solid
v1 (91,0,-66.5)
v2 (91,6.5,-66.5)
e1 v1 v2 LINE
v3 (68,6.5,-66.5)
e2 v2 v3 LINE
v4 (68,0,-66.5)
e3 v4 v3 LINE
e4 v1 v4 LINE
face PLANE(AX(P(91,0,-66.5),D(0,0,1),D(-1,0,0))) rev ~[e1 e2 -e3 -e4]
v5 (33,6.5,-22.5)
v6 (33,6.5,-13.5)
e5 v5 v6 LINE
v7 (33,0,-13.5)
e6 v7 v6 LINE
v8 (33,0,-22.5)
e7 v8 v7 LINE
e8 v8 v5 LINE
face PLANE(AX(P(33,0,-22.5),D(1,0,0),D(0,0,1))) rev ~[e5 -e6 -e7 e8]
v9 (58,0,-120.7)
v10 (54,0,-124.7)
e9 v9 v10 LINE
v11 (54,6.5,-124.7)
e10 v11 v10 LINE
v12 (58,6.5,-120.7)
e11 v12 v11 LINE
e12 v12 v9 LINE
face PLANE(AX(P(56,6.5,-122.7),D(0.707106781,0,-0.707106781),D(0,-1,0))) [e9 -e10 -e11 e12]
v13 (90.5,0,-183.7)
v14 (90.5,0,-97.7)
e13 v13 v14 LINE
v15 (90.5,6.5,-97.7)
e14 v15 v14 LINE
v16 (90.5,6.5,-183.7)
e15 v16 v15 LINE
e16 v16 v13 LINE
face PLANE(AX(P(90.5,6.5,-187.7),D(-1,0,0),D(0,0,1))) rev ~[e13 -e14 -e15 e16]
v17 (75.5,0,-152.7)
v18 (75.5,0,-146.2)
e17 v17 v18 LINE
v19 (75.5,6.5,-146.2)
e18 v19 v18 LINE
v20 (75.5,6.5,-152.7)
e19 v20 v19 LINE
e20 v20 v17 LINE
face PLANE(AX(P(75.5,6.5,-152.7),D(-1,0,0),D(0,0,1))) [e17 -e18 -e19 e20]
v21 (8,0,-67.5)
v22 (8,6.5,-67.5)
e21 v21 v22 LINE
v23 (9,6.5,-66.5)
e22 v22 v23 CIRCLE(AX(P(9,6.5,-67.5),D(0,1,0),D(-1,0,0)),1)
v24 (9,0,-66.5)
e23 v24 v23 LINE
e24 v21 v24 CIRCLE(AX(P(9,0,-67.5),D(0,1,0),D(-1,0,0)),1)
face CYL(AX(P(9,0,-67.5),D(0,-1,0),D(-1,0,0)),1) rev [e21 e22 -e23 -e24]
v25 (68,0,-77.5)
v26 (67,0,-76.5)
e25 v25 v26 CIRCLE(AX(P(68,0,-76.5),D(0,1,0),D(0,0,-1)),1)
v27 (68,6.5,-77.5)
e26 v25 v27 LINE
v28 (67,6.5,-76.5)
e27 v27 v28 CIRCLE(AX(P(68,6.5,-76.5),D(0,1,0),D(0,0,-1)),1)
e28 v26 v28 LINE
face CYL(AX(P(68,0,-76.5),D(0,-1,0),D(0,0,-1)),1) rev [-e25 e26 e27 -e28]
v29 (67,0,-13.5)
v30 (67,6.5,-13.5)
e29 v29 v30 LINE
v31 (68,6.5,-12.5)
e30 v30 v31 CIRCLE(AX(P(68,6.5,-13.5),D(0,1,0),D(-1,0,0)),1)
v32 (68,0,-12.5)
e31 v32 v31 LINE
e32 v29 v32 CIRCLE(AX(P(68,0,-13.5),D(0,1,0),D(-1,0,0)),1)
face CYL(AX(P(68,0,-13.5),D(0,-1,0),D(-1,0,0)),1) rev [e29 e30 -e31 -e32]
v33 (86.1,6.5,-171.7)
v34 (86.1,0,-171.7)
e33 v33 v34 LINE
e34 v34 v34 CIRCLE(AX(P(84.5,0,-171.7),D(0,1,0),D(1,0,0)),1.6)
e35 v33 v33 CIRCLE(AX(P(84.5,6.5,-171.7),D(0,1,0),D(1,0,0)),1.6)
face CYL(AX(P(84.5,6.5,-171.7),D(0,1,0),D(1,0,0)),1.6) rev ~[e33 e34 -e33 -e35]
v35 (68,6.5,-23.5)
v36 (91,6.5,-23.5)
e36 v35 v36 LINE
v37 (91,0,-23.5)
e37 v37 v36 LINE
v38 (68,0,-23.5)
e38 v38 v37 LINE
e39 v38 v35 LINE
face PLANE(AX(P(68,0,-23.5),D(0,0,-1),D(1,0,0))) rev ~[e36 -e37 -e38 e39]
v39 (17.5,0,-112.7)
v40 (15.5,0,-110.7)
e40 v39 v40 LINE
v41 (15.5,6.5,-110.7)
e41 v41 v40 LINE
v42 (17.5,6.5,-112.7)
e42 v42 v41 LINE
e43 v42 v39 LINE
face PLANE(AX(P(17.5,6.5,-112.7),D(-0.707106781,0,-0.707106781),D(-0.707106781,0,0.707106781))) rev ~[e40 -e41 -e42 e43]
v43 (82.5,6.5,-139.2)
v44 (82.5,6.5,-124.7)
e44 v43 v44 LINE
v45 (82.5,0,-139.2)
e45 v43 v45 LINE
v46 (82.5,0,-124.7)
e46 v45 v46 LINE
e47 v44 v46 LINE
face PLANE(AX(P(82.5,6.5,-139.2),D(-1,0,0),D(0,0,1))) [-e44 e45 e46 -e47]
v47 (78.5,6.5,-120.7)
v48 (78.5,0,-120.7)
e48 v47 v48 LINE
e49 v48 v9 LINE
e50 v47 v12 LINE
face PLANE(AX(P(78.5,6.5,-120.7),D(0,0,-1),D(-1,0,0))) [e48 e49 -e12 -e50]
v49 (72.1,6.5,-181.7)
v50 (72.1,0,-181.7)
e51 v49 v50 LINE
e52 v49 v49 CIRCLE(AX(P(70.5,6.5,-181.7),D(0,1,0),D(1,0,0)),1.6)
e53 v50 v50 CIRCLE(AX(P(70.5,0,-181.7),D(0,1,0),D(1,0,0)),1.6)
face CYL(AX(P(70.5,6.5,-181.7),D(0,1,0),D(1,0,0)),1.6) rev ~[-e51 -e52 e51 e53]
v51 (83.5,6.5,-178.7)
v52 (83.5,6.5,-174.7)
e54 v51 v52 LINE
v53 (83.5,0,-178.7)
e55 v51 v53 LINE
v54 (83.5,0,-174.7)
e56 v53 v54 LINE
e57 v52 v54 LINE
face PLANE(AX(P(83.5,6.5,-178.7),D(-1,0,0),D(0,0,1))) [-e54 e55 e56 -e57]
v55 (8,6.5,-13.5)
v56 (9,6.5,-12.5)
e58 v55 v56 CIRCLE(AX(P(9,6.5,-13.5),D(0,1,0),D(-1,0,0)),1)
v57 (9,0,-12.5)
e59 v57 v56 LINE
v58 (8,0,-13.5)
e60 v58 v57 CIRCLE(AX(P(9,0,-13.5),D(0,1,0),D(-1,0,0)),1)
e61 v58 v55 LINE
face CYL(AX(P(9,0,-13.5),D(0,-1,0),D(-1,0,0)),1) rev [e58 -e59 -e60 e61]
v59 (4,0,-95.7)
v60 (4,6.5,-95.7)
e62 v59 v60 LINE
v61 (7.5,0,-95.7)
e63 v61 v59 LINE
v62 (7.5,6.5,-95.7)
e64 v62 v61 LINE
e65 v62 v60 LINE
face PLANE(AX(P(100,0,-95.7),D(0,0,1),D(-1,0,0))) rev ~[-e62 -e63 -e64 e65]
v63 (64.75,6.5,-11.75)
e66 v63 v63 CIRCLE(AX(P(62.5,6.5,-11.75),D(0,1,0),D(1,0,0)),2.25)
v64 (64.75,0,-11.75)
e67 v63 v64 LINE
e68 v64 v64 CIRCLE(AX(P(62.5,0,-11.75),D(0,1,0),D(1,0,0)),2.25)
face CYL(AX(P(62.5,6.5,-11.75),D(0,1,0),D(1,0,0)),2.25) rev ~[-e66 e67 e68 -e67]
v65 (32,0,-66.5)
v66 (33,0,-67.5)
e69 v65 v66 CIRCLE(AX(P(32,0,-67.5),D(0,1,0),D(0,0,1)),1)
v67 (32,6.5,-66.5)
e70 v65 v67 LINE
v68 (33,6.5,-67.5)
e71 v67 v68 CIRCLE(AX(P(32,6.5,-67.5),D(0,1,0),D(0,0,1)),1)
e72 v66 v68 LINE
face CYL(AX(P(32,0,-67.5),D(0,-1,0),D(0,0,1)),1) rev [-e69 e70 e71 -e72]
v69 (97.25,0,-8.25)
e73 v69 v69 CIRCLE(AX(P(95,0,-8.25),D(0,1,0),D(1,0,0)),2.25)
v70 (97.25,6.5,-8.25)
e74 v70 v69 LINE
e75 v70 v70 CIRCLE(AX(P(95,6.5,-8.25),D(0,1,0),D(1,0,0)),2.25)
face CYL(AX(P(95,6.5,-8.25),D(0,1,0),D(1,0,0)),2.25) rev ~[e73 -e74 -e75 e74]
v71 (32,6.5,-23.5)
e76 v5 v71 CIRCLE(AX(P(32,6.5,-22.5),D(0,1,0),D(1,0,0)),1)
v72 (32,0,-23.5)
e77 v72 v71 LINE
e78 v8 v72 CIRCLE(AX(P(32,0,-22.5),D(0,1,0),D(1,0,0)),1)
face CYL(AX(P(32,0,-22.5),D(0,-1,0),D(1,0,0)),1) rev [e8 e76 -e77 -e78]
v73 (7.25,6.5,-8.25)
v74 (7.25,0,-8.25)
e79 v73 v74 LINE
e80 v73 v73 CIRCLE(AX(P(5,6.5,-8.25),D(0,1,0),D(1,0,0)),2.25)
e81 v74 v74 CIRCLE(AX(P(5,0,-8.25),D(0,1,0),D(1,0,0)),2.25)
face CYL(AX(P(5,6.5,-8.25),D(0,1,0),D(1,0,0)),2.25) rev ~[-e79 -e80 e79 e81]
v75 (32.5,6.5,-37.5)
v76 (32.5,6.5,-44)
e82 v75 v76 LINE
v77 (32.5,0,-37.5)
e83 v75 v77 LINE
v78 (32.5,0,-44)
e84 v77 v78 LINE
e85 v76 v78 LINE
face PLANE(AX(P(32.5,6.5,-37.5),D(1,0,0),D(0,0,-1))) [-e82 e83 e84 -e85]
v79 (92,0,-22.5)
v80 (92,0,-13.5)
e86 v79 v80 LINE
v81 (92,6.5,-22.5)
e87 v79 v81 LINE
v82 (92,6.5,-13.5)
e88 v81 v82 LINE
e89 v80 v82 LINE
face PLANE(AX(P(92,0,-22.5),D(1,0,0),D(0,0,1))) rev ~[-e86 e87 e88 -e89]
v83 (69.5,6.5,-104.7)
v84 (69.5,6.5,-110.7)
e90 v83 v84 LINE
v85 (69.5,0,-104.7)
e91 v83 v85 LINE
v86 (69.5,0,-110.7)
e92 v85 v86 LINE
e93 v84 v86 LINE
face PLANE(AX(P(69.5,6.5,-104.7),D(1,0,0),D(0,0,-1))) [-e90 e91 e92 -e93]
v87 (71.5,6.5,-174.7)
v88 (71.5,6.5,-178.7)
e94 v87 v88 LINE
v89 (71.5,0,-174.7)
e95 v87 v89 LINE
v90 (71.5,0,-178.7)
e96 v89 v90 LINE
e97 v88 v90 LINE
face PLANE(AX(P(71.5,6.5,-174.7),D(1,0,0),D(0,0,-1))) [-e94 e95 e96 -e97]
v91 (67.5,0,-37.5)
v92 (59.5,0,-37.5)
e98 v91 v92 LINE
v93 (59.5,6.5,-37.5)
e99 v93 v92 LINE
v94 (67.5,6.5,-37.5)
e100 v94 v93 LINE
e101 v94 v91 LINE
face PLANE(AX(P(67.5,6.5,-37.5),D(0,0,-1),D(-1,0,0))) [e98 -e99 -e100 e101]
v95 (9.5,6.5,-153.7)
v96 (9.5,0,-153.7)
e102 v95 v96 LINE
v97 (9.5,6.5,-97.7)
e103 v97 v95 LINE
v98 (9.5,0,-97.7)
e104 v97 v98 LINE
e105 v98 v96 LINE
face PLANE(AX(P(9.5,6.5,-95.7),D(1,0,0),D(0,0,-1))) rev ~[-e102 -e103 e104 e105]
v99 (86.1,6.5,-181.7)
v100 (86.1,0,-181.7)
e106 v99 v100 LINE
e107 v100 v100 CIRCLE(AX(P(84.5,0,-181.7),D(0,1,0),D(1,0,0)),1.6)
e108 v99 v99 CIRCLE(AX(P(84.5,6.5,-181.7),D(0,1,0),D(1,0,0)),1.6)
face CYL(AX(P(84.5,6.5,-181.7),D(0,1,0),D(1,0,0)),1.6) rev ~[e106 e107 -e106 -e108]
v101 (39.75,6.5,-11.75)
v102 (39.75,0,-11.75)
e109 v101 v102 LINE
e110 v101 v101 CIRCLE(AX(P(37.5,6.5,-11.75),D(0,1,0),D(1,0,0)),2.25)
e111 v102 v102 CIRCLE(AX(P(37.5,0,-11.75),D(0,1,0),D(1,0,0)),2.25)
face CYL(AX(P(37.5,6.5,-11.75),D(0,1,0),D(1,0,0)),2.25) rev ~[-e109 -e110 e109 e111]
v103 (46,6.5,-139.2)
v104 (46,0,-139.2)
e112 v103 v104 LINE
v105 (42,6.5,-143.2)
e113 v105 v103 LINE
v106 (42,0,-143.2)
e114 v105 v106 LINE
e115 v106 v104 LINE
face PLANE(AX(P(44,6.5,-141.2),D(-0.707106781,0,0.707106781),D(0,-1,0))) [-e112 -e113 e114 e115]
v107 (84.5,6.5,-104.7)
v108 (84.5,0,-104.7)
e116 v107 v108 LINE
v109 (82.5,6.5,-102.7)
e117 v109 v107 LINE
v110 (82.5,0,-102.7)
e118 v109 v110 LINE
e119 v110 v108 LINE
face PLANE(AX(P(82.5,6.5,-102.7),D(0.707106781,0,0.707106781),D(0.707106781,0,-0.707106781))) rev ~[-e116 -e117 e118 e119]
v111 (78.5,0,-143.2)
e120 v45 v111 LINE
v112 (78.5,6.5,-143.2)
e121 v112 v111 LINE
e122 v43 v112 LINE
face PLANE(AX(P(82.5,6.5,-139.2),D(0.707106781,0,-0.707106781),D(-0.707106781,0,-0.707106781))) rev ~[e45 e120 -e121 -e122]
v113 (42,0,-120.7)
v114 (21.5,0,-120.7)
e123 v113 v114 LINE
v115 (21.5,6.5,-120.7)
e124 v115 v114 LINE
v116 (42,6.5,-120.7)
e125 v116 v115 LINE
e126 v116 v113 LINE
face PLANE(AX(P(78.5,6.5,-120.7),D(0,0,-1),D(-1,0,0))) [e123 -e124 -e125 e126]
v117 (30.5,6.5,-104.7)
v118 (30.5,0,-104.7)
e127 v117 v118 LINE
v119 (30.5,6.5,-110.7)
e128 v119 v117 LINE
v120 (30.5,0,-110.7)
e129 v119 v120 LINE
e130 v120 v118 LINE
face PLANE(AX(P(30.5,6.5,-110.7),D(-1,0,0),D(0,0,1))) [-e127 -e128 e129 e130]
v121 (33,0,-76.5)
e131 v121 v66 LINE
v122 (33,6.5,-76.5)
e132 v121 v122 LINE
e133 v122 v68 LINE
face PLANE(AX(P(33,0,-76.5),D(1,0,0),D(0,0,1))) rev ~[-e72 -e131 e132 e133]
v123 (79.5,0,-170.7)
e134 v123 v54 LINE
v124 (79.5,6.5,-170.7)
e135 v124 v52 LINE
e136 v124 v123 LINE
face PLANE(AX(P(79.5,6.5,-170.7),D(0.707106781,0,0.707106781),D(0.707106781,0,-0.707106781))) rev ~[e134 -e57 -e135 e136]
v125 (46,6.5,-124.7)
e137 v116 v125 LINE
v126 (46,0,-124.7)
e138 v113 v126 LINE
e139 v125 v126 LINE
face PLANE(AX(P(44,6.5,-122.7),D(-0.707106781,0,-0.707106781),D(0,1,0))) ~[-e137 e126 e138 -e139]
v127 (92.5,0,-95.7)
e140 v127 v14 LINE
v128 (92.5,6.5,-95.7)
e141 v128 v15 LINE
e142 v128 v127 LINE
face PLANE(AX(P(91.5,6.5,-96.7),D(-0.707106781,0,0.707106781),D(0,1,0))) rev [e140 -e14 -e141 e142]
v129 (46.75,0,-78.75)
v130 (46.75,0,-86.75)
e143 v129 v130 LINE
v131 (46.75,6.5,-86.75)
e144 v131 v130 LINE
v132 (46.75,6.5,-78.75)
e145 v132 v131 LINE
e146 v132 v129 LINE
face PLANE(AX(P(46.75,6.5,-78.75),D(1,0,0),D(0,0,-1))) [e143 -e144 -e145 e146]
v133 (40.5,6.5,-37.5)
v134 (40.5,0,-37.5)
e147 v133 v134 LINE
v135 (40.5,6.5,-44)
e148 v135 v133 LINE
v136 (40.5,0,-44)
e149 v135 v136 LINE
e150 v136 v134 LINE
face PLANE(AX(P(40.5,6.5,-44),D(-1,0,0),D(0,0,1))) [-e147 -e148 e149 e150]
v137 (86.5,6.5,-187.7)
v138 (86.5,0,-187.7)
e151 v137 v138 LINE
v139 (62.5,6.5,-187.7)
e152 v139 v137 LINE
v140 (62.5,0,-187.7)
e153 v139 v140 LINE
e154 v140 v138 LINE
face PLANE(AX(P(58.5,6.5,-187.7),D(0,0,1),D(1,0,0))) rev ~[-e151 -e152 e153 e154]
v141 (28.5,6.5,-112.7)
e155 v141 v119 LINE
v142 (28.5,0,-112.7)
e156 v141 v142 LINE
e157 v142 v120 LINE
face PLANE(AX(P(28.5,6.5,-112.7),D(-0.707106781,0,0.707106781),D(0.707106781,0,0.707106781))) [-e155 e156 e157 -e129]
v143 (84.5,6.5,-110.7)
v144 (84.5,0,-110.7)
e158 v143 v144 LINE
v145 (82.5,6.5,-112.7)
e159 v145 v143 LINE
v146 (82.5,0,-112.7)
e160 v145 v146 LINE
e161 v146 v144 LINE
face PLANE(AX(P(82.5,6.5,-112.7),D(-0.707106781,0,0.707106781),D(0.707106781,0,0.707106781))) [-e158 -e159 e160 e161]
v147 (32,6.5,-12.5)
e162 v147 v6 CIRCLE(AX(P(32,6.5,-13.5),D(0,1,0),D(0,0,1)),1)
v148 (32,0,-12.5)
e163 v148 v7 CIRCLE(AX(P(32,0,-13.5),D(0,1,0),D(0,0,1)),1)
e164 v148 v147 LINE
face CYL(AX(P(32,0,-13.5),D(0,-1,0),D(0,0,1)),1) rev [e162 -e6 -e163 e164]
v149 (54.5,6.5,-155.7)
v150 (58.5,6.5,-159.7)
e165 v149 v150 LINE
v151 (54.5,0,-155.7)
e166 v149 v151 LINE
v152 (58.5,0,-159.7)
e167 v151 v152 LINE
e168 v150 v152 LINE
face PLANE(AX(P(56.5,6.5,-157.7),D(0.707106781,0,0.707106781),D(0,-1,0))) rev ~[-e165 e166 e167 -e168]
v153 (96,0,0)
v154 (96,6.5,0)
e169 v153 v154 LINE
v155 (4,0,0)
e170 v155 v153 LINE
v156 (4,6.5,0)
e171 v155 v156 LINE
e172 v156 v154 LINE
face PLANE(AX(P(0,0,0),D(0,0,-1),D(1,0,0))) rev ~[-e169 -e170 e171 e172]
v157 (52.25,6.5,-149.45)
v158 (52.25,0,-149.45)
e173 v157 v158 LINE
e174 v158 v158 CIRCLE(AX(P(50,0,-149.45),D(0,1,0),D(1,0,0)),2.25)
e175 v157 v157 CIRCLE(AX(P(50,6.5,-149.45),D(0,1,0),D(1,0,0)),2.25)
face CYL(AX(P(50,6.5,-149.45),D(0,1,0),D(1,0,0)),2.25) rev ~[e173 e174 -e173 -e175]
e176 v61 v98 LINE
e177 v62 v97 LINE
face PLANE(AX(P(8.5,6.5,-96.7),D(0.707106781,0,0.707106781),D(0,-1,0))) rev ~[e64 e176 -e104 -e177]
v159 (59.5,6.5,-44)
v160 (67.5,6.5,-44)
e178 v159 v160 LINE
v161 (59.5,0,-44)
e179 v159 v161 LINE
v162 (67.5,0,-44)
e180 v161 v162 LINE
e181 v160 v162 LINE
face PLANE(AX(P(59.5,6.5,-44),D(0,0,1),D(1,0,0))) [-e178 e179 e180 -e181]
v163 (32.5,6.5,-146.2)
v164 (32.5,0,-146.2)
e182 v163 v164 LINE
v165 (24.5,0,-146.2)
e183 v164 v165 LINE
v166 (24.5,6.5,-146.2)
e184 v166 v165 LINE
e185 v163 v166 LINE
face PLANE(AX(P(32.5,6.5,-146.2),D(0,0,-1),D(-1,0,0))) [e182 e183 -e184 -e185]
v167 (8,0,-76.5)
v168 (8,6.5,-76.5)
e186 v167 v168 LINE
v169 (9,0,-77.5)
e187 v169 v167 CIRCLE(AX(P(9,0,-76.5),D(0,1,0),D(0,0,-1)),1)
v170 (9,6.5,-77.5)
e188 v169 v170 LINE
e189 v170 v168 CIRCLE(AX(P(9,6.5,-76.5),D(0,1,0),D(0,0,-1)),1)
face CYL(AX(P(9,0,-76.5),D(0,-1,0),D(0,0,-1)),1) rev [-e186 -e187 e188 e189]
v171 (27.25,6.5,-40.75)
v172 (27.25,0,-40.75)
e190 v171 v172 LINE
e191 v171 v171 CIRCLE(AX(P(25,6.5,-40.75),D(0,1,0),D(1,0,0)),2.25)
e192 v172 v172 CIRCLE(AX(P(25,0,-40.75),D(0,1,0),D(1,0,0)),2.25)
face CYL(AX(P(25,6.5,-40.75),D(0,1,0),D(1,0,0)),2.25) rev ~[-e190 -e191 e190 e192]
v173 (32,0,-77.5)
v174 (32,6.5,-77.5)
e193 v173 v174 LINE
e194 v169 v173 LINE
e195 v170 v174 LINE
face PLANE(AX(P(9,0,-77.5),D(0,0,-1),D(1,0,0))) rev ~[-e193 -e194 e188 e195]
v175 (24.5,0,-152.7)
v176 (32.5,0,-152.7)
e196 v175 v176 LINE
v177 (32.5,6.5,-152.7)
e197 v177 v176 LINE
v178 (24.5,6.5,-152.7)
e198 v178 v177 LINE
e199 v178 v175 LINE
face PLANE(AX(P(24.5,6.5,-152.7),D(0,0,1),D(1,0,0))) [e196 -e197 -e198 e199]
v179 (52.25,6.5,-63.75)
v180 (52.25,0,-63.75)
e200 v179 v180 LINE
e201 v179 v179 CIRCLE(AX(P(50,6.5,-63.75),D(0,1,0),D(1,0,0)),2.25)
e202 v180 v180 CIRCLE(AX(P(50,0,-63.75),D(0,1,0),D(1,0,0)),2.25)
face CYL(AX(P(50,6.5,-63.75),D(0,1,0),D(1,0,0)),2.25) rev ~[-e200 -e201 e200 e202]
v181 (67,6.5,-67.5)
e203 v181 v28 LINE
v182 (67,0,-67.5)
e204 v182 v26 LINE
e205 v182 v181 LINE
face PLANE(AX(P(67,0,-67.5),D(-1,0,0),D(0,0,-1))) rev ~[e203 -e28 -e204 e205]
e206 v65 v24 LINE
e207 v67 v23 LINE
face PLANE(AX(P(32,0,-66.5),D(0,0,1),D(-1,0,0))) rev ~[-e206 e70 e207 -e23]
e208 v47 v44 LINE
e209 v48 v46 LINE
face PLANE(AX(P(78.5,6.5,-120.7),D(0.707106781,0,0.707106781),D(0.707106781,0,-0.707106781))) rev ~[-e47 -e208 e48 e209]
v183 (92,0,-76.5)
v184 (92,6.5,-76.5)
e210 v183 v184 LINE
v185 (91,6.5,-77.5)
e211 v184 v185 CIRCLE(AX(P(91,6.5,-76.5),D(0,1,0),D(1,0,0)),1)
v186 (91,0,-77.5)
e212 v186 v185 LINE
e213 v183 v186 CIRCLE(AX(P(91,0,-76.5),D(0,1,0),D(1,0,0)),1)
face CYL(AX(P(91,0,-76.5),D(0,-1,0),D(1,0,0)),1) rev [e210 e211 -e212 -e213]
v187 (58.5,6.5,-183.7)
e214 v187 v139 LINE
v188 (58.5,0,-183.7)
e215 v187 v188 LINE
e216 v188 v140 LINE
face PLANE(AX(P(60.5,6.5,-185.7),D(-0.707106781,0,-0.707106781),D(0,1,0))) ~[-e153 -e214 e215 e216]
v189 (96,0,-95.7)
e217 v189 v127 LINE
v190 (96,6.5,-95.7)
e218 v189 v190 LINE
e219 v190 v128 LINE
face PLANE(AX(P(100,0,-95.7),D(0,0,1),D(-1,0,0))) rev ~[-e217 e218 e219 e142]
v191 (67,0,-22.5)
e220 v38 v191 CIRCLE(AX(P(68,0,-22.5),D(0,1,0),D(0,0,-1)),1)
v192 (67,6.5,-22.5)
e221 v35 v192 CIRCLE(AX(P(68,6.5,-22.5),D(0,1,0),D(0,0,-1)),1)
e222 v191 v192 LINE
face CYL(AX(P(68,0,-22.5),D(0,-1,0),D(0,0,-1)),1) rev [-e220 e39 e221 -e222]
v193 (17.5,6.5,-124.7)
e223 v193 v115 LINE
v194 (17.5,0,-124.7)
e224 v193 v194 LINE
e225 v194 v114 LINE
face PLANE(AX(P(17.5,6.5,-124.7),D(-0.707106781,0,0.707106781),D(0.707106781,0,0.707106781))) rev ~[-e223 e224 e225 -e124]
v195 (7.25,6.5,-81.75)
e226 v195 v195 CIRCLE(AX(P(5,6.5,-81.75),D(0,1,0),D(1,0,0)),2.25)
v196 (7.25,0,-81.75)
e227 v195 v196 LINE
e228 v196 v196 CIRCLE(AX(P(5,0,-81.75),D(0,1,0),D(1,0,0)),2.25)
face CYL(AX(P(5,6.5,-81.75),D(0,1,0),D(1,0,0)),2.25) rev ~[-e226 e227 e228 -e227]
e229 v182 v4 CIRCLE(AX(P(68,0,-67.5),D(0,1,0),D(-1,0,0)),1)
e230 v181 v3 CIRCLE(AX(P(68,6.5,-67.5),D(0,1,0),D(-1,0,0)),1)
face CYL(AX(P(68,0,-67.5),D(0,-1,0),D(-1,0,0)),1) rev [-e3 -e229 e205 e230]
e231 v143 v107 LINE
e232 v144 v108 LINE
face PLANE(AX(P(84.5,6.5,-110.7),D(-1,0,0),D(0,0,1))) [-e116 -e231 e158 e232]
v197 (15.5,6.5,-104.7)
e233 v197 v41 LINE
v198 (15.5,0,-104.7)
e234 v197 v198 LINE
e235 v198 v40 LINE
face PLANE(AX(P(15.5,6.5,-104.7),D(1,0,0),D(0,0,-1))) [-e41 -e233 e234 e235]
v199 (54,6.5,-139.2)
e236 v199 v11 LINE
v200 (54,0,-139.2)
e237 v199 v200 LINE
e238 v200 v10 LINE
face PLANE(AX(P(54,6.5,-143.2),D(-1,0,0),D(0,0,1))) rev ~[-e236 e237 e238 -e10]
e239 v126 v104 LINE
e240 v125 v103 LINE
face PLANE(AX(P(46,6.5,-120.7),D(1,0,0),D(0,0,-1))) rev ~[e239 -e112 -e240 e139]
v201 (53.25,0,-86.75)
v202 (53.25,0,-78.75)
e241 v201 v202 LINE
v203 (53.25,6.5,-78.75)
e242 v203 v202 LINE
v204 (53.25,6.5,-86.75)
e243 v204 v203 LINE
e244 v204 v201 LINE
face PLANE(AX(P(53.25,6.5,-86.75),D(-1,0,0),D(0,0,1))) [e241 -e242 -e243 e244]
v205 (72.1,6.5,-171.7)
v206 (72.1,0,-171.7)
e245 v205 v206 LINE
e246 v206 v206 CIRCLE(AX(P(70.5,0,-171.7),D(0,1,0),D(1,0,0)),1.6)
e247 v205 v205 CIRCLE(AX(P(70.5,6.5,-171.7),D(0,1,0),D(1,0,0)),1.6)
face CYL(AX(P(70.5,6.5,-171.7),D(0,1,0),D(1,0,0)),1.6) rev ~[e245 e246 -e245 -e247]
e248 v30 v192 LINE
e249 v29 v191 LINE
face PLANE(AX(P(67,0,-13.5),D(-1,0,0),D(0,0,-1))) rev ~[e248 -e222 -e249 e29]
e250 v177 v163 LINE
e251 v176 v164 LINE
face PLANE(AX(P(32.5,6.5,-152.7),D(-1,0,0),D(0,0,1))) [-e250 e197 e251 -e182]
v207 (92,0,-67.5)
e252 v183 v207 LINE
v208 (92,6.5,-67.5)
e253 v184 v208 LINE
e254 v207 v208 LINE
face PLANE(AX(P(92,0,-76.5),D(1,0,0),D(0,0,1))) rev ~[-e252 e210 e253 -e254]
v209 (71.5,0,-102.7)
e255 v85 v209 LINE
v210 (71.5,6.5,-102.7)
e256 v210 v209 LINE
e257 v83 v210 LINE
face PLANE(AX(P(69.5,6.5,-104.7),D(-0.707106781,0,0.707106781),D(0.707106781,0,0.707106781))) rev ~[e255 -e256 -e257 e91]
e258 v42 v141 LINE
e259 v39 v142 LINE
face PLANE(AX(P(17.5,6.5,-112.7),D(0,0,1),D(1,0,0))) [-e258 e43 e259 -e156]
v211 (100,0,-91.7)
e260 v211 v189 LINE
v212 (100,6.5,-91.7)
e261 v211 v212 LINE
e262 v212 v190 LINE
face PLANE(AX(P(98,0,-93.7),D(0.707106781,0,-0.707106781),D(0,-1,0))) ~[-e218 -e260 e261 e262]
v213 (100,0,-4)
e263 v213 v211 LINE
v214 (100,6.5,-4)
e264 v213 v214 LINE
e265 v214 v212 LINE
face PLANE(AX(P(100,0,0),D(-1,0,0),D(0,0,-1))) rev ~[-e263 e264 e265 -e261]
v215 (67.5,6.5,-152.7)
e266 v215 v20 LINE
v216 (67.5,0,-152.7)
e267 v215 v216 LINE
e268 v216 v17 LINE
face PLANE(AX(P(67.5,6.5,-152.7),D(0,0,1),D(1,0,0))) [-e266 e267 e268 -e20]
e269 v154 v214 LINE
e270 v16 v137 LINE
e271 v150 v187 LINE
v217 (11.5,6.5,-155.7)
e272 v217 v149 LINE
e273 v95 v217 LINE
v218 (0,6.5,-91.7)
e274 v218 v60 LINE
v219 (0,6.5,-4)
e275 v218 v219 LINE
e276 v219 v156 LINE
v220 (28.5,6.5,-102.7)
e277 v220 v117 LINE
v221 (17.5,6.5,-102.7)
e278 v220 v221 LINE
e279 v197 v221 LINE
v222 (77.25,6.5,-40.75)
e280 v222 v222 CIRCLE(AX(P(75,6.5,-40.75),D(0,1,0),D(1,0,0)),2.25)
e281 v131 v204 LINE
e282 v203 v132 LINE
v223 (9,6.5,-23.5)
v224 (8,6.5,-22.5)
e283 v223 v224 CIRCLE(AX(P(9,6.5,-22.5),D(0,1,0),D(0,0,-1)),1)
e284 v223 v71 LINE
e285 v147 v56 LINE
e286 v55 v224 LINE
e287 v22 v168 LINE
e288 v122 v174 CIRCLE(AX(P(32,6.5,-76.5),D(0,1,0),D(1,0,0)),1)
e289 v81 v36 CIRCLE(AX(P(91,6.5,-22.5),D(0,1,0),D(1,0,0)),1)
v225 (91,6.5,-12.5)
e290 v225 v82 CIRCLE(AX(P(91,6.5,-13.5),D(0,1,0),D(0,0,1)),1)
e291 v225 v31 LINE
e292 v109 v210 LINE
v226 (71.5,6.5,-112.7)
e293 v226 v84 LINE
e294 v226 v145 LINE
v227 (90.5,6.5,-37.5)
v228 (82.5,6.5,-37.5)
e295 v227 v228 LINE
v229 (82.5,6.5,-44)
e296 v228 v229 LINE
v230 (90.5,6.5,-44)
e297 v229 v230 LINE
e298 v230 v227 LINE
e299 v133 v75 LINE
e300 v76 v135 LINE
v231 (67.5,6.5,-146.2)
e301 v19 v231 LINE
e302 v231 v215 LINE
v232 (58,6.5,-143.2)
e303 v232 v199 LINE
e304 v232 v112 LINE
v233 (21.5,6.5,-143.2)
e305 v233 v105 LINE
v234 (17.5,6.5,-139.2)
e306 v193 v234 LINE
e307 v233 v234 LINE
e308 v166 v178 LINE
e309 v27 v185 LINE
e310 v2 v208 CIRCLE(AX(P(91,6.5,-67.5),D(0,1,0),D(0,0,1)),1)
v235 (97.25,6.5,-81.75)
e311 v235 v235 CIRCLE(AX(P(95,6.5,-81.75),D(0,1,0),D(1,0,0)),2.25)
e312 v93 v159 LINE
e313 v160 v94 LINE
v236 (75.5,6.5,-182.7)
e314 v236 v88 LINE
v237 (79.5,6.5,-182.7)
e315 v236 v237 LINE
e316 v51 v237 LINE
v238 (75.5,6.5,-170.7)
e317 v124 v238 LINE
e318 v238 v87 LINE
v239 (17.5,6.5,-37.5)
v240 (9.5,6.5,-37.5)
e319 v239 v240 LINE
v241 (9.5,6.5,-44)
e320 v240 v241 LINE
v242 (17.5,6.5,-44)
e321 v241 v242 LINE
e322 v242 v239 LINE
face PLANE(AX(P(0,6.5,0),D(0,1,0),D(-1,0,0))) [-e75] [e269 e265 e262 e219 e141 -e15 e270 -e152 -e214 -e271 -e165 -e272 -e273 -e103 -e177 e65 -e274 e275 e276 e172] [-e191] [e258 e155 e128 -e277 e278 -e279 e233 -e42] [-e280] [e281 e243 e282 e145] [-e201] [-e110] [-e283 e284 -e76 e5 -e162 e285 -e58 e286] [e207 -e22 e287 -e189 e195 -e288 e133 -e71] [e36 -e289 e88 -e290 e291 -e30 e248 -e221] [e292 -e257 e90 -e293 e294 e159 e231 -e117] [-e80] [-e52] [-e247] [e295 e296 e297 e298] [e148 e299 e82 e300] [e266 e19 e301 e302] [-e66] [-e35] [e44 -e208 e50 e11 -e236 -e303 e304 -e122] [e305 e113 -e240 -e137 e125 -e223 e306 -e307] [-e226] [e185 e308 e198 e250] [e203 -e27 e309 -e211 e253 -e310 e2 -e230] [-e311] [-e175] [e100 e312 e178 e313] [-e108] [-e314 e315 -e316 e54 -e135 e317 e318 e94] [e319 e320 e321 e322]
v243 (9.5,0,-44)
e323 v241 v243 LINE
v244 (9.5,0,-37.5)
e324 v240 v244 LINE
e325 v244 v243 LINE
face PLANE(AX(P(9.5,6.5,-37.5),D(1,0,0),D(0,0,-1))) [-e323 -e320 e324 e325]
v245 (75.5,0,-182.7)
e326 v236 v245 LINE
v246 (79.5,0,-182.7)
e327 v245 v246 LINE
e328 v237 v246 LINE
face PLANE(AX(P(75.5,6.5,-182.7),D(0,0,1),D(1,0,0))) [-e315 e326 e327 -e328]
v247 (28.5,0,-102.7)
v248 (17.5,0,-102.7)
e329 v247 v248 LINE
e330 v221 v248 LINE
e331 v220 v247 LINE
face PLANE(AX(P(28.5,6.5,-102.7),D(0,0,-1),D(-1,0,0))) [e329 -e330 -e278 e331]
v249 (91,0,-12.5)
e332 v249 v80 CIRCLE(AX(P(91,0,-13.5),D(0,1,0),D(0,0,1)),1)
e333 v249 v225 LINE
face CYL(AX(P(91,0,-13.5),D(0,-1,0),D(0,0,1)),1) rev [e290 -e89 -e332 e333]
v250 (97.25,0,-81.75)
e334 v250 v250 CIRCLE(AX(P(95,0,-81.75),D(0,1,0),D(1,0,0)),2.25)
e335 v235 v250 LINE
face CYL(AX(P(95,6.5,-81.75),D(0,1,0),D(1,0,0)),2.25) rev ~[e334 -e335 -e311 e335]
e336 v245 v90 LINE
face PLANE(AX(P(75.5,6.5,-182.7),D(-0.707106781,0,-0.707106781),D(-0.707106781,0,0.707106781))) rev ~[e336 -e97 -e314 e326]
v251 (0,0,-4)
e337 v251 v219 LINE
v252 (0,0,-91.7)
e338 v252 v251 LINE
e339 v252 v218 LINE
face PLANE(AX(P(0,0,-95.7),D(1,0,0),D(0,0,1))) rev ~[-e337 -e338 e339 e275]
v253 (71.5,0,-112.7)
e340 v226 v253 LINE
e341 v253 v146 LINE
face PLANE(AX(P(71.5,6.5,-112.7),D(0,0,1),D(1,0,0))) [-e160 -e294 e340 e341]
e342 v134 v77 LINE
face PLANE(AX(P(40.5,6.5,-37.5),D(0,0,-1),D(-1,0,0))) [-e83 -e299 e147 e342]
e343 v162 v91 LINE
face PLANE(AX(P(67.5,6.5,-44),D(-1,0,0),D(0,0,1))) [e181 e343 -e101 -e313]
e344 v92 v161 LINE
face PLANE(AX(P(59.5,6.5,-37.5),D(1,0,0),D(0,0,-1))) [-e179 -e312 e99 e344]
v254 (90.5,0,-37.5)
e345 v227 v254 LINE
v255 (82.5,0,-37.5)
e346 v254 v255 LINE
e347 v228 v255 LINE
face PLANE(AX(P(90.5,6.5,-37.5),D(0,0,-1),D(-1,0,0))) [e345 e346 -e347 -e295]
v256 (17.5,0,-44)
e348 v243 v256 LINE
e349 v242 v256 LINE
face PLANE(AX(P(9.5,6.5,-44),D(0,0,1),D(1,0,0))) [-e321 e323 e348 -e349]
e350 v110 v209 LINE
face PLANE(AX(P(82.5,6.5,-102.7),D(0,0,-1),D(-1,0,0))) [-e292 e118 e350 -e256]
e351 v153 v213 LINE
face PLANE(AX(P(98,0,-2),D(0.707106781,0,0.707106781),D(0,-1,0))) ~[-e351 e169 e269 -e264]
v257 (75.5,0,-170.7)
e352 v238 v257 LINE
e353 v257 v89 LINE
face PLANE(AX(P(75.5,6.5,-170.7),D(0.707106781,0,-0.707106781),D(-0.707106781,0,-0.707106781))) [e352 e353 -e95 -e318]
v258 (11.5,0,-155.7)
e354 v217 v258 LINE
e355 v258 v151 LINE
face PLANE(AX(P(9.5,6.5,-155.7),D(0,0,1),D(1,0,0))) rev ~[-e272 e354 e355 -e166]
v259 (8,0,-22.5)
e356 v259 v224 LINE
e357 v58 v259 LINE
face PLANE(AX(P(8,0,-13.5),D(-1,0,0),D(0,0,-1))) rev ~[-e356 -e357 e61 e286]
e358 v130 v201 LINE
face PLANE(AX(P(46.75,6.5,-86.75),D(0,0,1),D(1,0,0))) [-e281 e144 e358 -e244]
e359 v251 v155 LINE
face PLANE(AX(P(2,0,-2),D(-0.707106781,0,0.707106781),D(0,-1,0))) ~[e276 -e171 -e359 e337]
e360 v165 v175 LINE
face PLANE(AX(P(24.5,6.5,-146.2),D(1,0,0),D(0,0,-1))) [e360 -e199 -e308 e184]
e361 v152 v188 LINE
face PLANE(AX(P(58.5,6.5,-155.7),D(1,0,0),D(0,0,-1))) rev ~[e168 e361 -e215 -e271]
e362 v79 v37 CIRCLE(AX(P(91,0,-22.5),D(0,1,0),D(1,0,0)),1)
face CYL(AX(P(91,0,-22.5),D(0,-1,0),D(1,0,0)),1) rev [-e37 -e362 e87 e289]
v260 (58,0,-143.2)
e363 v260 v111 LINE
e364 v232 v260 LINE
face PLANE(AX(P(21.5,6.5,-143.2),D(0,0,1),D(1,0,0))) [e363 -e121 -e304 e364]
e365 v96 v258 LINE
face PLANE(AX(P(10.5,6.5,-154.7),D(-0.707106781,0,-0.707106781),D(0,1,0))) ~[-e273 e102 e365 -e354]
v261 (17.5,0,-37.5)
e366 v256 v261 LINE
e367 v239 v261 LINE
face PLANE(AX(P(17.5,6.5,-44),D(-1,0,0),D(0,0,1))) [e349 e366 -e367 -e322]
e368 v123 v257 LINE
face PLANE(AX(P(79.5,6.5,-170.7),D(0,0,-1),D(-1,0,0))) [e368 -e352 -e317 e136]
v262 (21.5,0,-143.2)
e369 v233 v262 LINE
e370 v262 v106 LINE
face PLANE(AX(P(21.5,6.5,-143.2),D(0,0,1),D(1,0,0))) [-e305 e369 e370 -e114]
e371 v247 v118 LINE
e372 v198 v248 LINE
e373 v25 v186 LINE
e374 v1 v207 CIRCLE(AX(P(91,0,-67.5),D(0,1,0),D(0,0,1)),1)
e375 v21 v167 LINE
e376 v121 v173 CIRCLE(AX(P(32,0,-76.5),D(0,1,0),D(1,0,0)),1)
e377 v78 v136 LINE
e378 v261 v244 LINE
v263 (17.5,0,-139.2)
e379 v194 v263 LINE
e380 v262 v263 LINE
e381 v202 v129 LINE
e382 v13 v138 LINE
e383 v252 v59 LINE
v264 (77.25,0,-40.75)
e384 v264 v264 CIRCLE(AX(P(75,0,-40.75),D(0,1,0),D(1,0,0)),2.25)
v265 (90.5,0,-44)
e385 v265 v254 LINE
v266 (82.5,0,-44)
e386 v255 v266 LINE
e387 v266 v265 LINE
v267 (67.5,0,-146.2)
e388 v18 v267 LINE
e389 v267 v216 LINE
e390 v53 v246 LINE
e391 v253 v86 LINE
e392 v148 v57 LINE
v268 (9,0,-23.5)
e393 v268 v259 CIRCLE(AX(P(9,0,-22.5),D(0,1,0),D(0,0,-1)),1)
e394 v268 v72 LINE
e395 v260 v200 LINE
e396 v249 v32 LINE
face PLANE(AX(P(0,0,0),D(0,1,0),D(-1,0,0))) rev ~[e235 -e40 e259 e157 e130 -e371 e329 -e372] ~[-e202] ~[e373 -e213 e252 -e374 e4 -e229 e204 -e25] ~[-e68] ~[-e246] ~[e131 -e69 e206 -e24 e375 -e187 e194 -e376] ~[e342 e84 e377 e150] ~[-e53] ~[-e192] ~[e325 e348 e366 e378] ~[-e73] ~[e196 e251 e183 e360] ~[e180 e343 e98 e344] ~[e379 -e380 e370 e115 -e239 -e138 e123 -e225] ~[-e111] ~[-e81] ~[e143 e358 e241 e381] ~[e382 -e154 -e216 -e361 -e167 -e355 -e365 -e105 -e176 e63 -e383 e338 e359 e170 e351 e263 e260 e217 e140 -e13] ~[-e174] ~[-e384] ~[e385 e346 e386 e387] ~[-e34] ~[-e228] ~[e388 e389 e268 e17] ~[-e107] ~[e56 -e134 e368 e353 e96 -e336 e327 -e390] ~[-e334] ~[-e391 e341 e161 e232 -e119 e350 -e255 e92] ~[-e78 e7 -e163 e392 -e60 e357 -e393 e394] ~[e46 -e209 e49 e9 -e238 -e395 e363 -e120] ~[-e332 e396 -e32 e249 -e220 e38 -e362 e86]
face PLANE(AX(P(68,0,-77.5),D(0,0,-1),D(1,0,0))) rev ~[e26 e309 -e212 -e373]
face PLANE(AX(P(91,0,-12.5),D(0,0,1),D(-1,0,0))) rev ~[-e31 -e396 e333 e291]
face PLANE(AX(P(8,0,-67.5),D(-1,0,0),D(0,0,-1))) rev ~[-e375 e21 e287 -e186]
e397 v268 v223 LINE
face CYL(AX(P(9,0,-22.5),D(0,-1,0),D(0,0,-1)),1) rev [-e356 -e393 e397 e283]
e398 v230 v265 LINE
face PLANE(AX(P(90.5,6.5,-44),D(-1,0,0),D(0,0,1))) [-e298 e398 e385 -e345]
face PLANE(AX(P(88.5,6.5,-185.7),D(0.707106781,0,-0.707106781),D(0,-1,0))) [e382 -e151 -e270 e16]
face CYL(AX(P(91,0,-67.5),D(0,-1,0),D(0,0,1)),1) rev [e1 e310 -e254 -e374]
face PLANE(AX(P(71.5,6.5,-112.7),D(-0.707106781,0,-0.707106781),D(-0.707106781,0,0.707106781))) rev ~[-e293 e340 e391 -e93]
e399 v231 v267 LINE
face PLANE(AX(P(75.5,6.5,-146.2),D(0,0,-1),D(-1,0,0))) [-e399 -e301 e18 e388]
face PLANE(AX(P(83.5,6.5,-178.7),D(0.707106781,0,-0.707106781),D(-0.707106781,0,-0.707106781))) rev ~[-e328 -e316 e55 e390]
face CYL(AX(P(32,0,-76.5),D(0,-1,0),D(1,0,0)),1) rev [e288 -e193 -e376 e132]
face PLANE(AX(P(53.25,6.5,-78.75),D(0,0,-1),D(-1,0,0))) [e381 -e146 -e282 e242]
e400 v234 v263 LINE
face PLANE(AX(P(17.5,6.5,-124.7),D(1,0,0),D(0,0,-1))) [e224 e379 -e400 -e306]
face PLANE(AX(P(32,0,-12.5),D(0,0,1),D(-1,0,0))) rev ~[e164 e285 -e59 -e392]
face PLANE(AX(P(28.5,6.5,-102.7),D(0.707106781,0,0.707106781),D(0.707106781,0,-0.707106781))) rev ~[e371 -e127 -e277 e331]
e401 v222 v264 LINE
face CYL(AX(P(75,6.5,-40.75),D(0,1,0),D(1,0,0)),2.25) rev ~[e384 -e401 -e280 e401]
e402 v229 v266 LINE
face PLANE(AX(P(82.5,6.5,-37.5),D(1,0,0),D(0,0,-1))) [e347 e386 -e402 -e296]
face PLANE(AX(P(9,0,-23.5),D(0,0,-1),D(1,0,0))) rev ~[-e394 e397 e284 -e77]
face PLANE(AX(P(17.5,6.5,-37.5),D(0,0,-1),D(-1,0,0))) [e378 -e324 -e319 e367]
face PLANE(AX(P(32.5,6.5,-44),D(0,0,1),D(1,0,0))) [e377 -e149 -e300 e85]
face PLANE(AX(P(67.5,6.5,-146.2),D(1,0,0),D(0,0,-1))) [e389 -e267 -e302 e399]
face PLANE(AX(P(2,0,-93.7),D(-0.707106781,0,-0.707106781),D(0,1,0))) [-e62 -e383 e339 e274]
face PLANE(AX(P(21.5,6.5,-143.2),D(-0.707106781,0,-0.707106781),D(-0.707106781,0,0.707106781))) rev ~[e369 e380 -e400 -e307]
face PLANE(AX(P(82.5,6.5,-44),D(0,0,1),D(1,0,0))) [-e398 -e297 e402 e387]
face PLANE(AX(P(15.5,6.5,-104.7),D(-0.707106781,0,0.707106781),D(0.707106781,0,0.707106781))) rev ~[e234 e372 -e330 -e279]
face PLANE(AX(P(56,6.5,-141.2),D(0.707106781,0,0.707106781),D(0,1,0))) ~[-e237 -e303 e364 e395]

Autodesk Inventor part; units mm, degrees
ref_plane "YZ Plane" through (0, 0, 0) normal (1, 0, 0) x (0, 1, 0)
ref_plane "XZ Plane" through (0, 0, 0) normal (0, 1, 0) x (-1, 0, 0)
ref_plane "XY Plane" through (0, 0, 0) normal (0, 0, 1) x (1, 0, 0)
sketch "Sketch1" plane through (0, 0, 0) normal (0, 1, 0) x (-1, 0, 0)
  line L0 (0, 0) -> (-100, 0)
  line L1 (-100, 0) -> (-100, -95.7)
  line L2 (-100, -95.7) -> (0, -95.7)
  line L3 (0, -95.7) -> (0, 0)
  line L4 (-9, -77.5) -> (-32, -77.5)
  line L5 (-33, -76.5) -> (-33, -67.5)
  line L6 (-32, -66.5) -> (-9, -66.5)
  line L7 (-8, -67.5) -> (-8, -76.5)
  arc A0 (-9, -77.5) -> (-8, -76.5) centre (-9, -76.5) ccw
  arc A1 (-33, -76.5) -> (-32, -77.5) centre (-32, -76.5) ccw
  arc A2 (-32, -66.5) -> (-33, -67.5) centre (-32, -67.5) ccw
  arc A3 (-8, -67.5) -> (-9, -66.5) centre (-9, -67.5) ccw
  line L8 (-68, -77.5) -> (-91, -77.5)
  line L9 (-92, -76.5) -> (-92, -67.5)
  line L10 (-91, -66.5) -> (-68, -66.5)
  line L11 (-67, -67.5) -> (-67, -76.5)
  arc A4 (-68, -77.5) -> (-67, -76.5) centre (-68, -76.5) ccw
  arc A5 (-92, -76.5) -> (-91, -77.5) centre (-91, -76.5) ccw
  arc A6 (-91, -66.5) -> (-92, -67.5) centre (-91, -67.5) ccw
  arc A7 (-67, -67.5) -> (-68, -66.5) centre (-68, -67.5) ccw
  line L12 (-9, -23.5) -> (-32, -23.5)
  line L13 (-33, -22.5) -> (-33, -13.5)
  line L14 (-32, -12.5) -> (-9, -12.5)
  line L15 (-8, -13.5) -> (-8, -22.5)
  arc A8 (-9, -23.5) -> (-8, -22.5) centre (-9, -22.5) ccw
  arc A9 (-33, -22.5) -> (-32, -23.5) centre (-32, -22.5) ccw
  arc A10 (-32, -12.5) -> (-33, -13.5) centre (-32, -13.5) ccw
  arc A11 (-8, -13.5) -> (-9, -12.5) centre (-9, -13.5) ccw
  line L16 (-68, -23.5) -> (-91, -23.5)
  line L17 (-92, -22.5) -> (-92, -13.5)
  line L18 (-91, -12.5) -> (-68, -12.5)
  line L19 (-67, -13.5) -> (-67, -22.5)
  arc A12 (-68, -23.5) -> (-67, -22.5) centre (-68, -22.5) ccw
  arc A13 (-92, -22.5) -> (-91, -23.5) centre (-91, -22.5) ccw
  arc A14 (-91, -12.5) -> (-92, -13.5) centre (-91, -13.5) ccw
  arc A15 (-67, -13.5) -> (-68, -12.5) centre (-68, -13.5) ccw
  line L20 (-8, -18) -> (-92, -18) construction
  line L21 (-92, -72) -> (-8, -72) construction
  point P0 (-50, -18)
  point P1 (-50, 0)
  dimension "d0" = 100
  dimension "d1" = 1
  dimension "d2" = 11
  dimension "d3" = 25
  dimension "d4" = 1
  dimension "d5" = 11
  dimension "d6" = 25
  dimension "d7" = 1
  dimension "d8" = 11
  dimension "d9" = 25
  dimension "d10" = 1
  dimension "d11" = 11
  dimension "d12" = 25
  dimension "d13" = 54
  dimension "d14" = 8
  dimension "d15" = 95.7
  dimension "d16" = 18
extrude "Extrusion1" add sketch "Sketch1" along normal blind 6.5
sketch "Sketch2" plane through (0, 6.5, 0) normal (0, 1, 0) x (1, 0, 0)
  line L0 (0, 0) -> (100, 0) projected
  line L1 (100, 0) -> (100, 95.7) projected
  line L2 (0, 95.7) -> (0, 0) projected
  line L3 (0, 44) -> (100, 44) construction
  line L4 (100, 44) -> (100, 37.5) construction
  line L5 (100, 37.5) -> (0, 37.5) construction
  line L6 (0, 37.5) -> (0, 44) construction
  line L7 (9.5, 44) -> (17.5, 44)
  line L8 (17.5, 44) -> (17.5, 37.5)
  line L9 (17.5, 37.5) -> (9.5, 37.5)
  line L10 (9.5, 37.5) -> (9.5, 44)
  line L11 (32.5, 44) -> (40.5, 44)
  line L12 (40.5, 44) -> (40.5, 37.5)
  line L13 (40.5, 37.5) -> (32.5, 37.5)
  line L14 (32.5, 37.5) -> (32.5, 44)
  line L15 (59.5, 44) -> (67.5, 44)
  line L16 (67.5, 44) -> (67.5, 37.5)
  line L17 (67.5, 37.5) -> (59.5, 37.5)
  line L18 (59.5, 37.5) -> (59.5, 44)
  line L19 (82.5, 44) -> (90.5, 44)
  line L20 (90.5, 44) -> (90.5, 37.5)
  line L21 (90.5, 37.5) -> (82.5, 37.5)
  line L22 (82.5, 37.5) -> (82.5, 44)
  line L23 (17.5, 44) -> (32.5, 37.5) construction
  line L24 (32.5, 44) -> (17.5, 37.5) construction
  line L25 (67.5, 44) -> (82.5, 37.5) construction
  line L26 (82.5, 44) -> (67.5, 37.5) construction
  circle A0 centre (25, 40.75) radius 2.25
  circle A1 centre (75, 40.75) radius 2.25
  line L27 (40.5, 40.75) -> (59.5, 40.75) construction
  point P0 (50, 40.75)
  point P1 (50, 0)
  dimension "d19" = 6.5
  dimension "d20" = 37.5
  dimension "d21" = 8
  dimension "d22" = 8
  dimension "d23" = 8
  dimension "d24" = 8
  dimension "d25" = 15
  dimension "d26" = 15
  dimension "d27" = 4.5
  dimension "d28" = 4.5
  dimension "d41" = 50
extrude "Extrusion2" cut sketch "Sketch2" against normal through all
sketch "Sketch5" plane through (0, 6.5, 0) normal (0, 1, 0) x (1, 0, 0)
  line L0 (100, 95.7) -> (0, 95.7) projected
  line L1 (0, 95.7) -> (0, 0) projected
  line L2 (9.5, 95.7) -> (9.5, 155.7)
  line L3 (9.5, 155.7) -> (58.5, 155.7)
  line L4 (58.5, 155.7) -> (58.5, 187.7)
  line L5 (58.5, 187.7) -> (90.5, 187.7)
  line L6 (90.5, 187.7) -> (90.5, 95.7)
  line L7 (9.5, 95.7) -> (90.5, 95.7)
  point P0 (50, 95.7)
  point P1 (50, 95.7)
  dimension "d42" = 92
  dimension "d43" = 32
  dimension "d44" = 9.5
extrude "Extrusion4" add sketch "Sketch5" against normal blind 6.5
sketch "Sketch6" plane through (0, 6.5, 0) normal (0, 1, 0) x (1, 0, 0)
  line L0 (90.5, 95.7) -> (90.5, 187.7) projected
  line L1 (9.5, 155.7) -> (9.5, 95.7) projected
  line L2 (9.5, 95.7) -> (0, 95.7) projected
  line L3 (17.5, 112.7) -> (28.5, 112.7)
  line L4 (30.5, 110.7) -> (30.5, 104.7)
  line L5 (28.5, 102.7) -> (17.5, 102.7)
  line L6 (15.5, 104.7) -> (15.5, 110.7)
  line L7 (17.5, 112.7) -> (15.5, 110.7)
  line L8 (15.5, 104.7) -> (17.5, 102.7)
  line L9 (28.5, 102.7) -> (30.5, 104.7)
  line L10 (28.5, 112.7) -> (30.5, 110.7)
  line L11 (71.5, 112.7) -> (82.5, 112.7)
  line L12 (84.5, 110.7) -> (84.5, 104.7)
  line L13 (82.5, 102.7) -> (71.5, 102.7)
  line L14 (69.5, 104.7) -> (69.5, 110.7)
  line L15 (71.5, 112.7) -> (69.5, 110.7)
  line L16 (69.5, 104.7) -> (71.5, 102.7)
  line L17 (82.5, 102.7) -> (84.5, 104.7)
  line L18 (82.5, 112.7) -> (84.5, 110.7)
  point P0 (15.5, 112.7)
  point P1 (30.5, 102.7)
  point P2 (30.5, 112.7)
  point P3 (15.5, 102.7)
  point P4 (69.5, 112.7)
  point P5 (84.5, 102.7)
  point P6 (84.5, 112.7)
  point P7 (69.5, 102.7)
  point P8 (15.5, 107.7)
  dimension "d47" = 2
  dimension "d48" = 2
  dimension "d49" = 2
  dimension "d50" = 2
  dimension "d51" = 2
  dimension "d52" = 2
  dimension "d53" = 2
  dimension "d54" = 2
  dimension "d55" = 10
  dimension "d56" = 2
  dimension "d57" = 2
  dimension "d58" = 2
  dimension "d59" = 2
  dimension "d60" = 2
  dimension "d61" = 2
  dimension "d62" = 2
  dimension "d63" = 2
  dimension "d64" = 10
  dimension "d65" = 12
  dimension "d66" = 15
  dimension "d67" = 15
  dimension "d68" = 6
  dimension "d69" = 6
extrude "Extrusion5" cut sketch "Sketch6" against normal through all
sketch "Sketch7" plane through (0, 6.5, 0) normal (0, 1, 0) x (1, 0, 0)
  line L0 (17.5, 112.7) -> (28.5, 112.7) projected
  line L1 (90.5, 95.7) -> (90.5, 187.7) projected
  line L2 (58.5, 155.7) -> (9.5, 155.7) projected
  line L3 (9.5, 155.7) -> (9.5, 95.7) projected
  line L4 (21.5, 143.2) -> (78.5, 143.2)
  line L5 (82.5, 139.2) -> (82.5, 124.7)
  line L6 (78.5, 120.7) -> (21.5, 120.7)
  line L7 (17.5, 124.7) -> (17.5, 139.2)
  line L8 (21.5, 143.2) -> (17.5, 139.2)
  line L9 (17.5, 124.7) -> (21.5, 120.7)
  line L10 (78.5, 120.7) -> (82.5, 124.7)
  line L11 (82.5, 139.2) -> (78.5, 143.2)
  point P0 (17.5, 143.2)
  point P1 (82.5, 120.7)
  point P2 (82.5, 143.2)
  point P3 (17.5, 120.7)
  dimension "d72" = 4
  dimension "d73" = 4
  dimension "d74" = 4
  dimension "d75" = 4
  dimension "d76" = 4
  dimension "d77" = 4
  dimension "d78" = 4
  dimension "d79" = 4
  dimension "d80" = 12.5
  dimension "d81" = 8
  dimension "d82" = 8
  dimension "d83" = 8
extrude "Extrusion6" cut sketch "Sketch7" against normal through all
chamfer "Chamfer2" distance 4 angle 45 7 edges at (100, 3.25, 0) (0, 3.25, 0) (100, 3.25, -95.7) (90.5, 3.25, -187.7) (58.5, 3.25, -187.7) (58.5, 3.25, -155.7) (0, 3.25, -95.7)
chamfer "Chamfer3" distance 2 angle 45 2 edges at (9.5, 3.25, -95.7) (90.5, 3.25, -95.7)
sketch "Sketch8" plane through (0, 6.5, 0) normal (0, 1, 0) x (1, 0, 0)
  line L0 (4, 0) -> (96, 0) projected
  line L1 (9, 77.5) -> (32, 77.5) projected
  circle A0 centre (37.5, 11.75) radius 2.25
  circle A1 centre (62.5, 11.75) radius 2.25
  line L2 (37.5, 11.75) -> (62.5, 11.75) construction
  point P0 (0, 0)
  point P1 (50, 11.75)
  point P2 (50, 0)
  dimension "d92" = 4.5
  dimension "d93" = 11.75
  dimension "d94" = 25
extrude "Extrusion7" cut sketch "Sketch8" against normal through all
sketch "Sketch10" plane through (0, 6.5, 0) normal (0, 1, 0) x (1, 0, 0)
  line L0 (0, 91.7) -> (0, 4) projected
  line L1 (4, 0) -> (96, 0) projected
  line L2 (100, 4) -> (100, 91.7) projected
  line L3 (32, 12.5) -> (9, 12.5) projected
  line L4 (8, 67.5) -> (8, 76.5) projected
  line L5 (9, 77.5) -> (32, 77.5) projected
  line L6 (5, 81.75) -> (95, 81.75) construction
  line L7 (95, 81.75) -> (95, 8.25) construction
  line L8 (95, 8.25) -> (5, 8.25) construction
  line L9 (5, 8.25) -> (5, 81.75) construction
  circle A0 centre (5, 81.75) radius 4.5 construction
  circle A1 centre (95, 81.75) radius 4.5 construction
  circle A2 centre (95, 8.25) radius 4.5 construction
  circle A3 centre (5, 8.25) radius 4.5 construction
  circle A4 centre (5, 81.75) radius 2.25
  circle A5 centre (95, 81.75) radius 2.25
  circle A6 centre (95, 8.25) radius 2.25
  circle A7 centre (5, 8.25) radius 2.25
  point P0 (0, 0)
  dimension "d102" = 9
  dimension "d103" = 4.5
  dimension "d104" = 8
  dimension "d105" = 5
  dimension "d106" = 5
  dimension "d107" = 12.5
  dimension "d108" = 8.25
  dimension "d110" = 4.25
extrude "Extrusion9" cut sketch "Sketch10" against normal through all
sketch "Sketch11" plane through (0, 6.5, 0) normal (0, 1, 0) x (1, 0, 0)
  line L0 (4, 0) -> (96, 0) projected
  line L1 (92, 76.5) -> (92, 67.5) projected
  line L2 (8, 67.5) -> (8, 76.5) projected
  line L3 (8, 76) -> (92, 76) construction
  line L4 (8, 68) -> (92, 68) construction
  circle A0 centre (50, 63.75) radius 2.25
  line L5 (46.75, 86.75) -> (53.25, 86.75)
  line L6 (53.25, 86.75) -> (53.25, 78.75)
  line L7 (53.25, 78.75) -> (46.75, 78.75)
  line L8 (46.75, 78.75) -> (46.75, 86.75)
  point P0 (0, 0)
  point P1 (92, 72)
  point P2 (50, 0)
  point P3 (50, 78.75)
  dimension "d113" = 8
  dimension "d114" = 4
  dimension "d115" = 4.5
  dimension "d116" = 4.25
  dimension "d117" = 6.5
  dimension "d118" = 8
  dimension "d119" = 15
extrude "Extrusion10" cut sketch "Sketch11" against normal through all
sketch "Sketch12" plane through (0, 6.5, 0) normal (0, 1, 0) x (1, 0, 0)
  line L0 (90.5, 97.7) -> (90.5, 183.7) projected
  line L1 (86.5, 187.7) -> (62.5, 187.7) projected
  line L2 (70.5, 181.7) -> (84.5, 181.7) construction
  line L3 (84.5, 181.7) -> (84.5, 171.7) construction
  line L4 (84.5, 171.7) -> (70.5, 171.7) construction
  line L5 (70.5, 171.7) -> (70.5, 181.7) construction
  line L6 (75.5, 182.7) -> (79.5, 182.7)
  line L7 (83.5, 178.7) -> (83.5, 174.7)
  line L8 (79.5, 170.7) -> (75.5, 170.7)
  line L9 (71.5, 174.7) -> (71.5, 178.7)
  line L10 (75.5, 182.7) -> (71.5, 178.7)
  line L11 (75.5, 170.7) -> (71.5, 174.7)
  line L12 (79.5, 170.7) -> (83.5, 174.7)
  line L13 (83.5, 178.7) -> (79.5, 182.7)
  circle A0 centre (70.5, 181.7) radius 1.6
  circle A1 centre (70.5, 171.7) radius 1.6
  circle A2 centre (84.5, 171.7) radius 1.6
  circle A3 centre (84.5, 181.7) radius 1.6
  point P0 (0, 0)
  point P1 (83.5, 182.7)
  point P2 (71.5, 176.7)
  point P3 (70.5, 176.7)
  dimension "d122" = 3.2
  dimension "d123" = 1
  dimension "d124" = 1
  dimension "d125" = 45
  dimension "d126" = 4
  dimension "d127" = 4
  dimension "d128" = 4
  dimension "d129" = 10
  dimension "d130" = 14
  dimension "d131" = 6
  dimension "d132" = 6
extrude "Extrusion11" cut sketch "Sketch12" against normal through all
sketch "Sketch13" plane through (0, 6.5, 0) normal (0, 1, 0) x (1, 0, 0)
  line L0 (21.5, 143.2) -> (78.5, 143.2) projected
  line L1 (24.5, 152.7) -> (32.5, 152.7)
  line L2 (32.5, 152.7) -> (32.5, 146.2)
  line L3 (32.5, 146.2) -> (24.5, 146.2)
  line L4 (24.5, 146.2) -> (24.5, 152.7)
  circle A0 centre (50, 149.45) radius 2.25
  line L5 (67.5, 152.7) -> (75.5, 152.7)
  line L6 (75.5, 152.7) -> (75.5, 146.2)
  line L7 (75.5, 146.2) -> (67.5, 146.2)
  line L8 (67.5, 146.2) -> (67.5, 152.7)
  point P0 (0, 0)
  point P1 (32.5, 149.45)
  point P2 (50, 143.2)
  dimension "d135" = 8
  dimension "d136" = 6.5
  dimension "d137" = 35
  dimension "d138" = 4.5
  dimension "d139" = 17.5
  dimension "d140" = 3
extrude "Extrusion12" cut sketch "Sketch13" against normal through all
chamfer "Chamfer4" distance 2 angle 45 1 edges at (9.5, 3.25, -155.7)
sketch "Sketch14" plane through (0, 6.5, 0) normal (0, 1, 0) x (1, 0, 0)
  line L0 (21.5, 143.2) -> (78.5, 143.2) projected
  line L1 (78.5, 120.7) -> (21.5, 120.7) projected
  circle A0 centre (50, 149.45) radius 2.25 projected
  line L2 (46, 143.2) -> (54, 143.2)
  line L3 (54, 143.2) -> (54, 120.7)
  line L4 (54, 120.7) -> (46, 120.7)
  line L5 (46, 120.7) -> (46, 143.2)
  point P0 (0, 0)
  point P1 (50, 120.7)
  dimension "d146" = 8
extrude "Extrusion13" add sketch "Sketch14" against normal blind 6.5 contours L0 L3 L1 L5
chamfer "Chamfer5" distance 4 angle 45 4 edges at (46, 3.25, -143.2) (54, 3.25, -143.2) (46, 3.25, -120.7) (54, 3.25, -120.7)
equation "\"d22\" = d21"
equation "\"d23\" = d22"
equation "\"d24\" = d23"
equation "\"d48\" = d47"
equation "\"d49\" = d47"
equation "\"d50\" = d49"
equation "\"d51\" = d47"
equation "\"d52\" = d51"
equation "\"d53\" = d47"
equation "\"d54\" = d53"
equation "\"d57\" = d56"
equation "\"d58\" = d56"
equation "\"d59\" = d58"
equation "\"d60\" = d56"
equation "\"d61\" = d60"
equation "\"d62\" = d56"
equation "\"d63\" = d62"
equation "\"d67\" = d66"
equation "\"d69\" = d68"
equation "\"d73\" = d72"
equation "\"d74\" = d72"
equation "\"d75\" = d74"
equation "\"d76\" = d72"
equation "\"d77\" = d76"
equation "\"d78\" = d72"
equation "\"d79\" = d78"
properties part number "x_carryage_front" material "Plywood, Finish"
